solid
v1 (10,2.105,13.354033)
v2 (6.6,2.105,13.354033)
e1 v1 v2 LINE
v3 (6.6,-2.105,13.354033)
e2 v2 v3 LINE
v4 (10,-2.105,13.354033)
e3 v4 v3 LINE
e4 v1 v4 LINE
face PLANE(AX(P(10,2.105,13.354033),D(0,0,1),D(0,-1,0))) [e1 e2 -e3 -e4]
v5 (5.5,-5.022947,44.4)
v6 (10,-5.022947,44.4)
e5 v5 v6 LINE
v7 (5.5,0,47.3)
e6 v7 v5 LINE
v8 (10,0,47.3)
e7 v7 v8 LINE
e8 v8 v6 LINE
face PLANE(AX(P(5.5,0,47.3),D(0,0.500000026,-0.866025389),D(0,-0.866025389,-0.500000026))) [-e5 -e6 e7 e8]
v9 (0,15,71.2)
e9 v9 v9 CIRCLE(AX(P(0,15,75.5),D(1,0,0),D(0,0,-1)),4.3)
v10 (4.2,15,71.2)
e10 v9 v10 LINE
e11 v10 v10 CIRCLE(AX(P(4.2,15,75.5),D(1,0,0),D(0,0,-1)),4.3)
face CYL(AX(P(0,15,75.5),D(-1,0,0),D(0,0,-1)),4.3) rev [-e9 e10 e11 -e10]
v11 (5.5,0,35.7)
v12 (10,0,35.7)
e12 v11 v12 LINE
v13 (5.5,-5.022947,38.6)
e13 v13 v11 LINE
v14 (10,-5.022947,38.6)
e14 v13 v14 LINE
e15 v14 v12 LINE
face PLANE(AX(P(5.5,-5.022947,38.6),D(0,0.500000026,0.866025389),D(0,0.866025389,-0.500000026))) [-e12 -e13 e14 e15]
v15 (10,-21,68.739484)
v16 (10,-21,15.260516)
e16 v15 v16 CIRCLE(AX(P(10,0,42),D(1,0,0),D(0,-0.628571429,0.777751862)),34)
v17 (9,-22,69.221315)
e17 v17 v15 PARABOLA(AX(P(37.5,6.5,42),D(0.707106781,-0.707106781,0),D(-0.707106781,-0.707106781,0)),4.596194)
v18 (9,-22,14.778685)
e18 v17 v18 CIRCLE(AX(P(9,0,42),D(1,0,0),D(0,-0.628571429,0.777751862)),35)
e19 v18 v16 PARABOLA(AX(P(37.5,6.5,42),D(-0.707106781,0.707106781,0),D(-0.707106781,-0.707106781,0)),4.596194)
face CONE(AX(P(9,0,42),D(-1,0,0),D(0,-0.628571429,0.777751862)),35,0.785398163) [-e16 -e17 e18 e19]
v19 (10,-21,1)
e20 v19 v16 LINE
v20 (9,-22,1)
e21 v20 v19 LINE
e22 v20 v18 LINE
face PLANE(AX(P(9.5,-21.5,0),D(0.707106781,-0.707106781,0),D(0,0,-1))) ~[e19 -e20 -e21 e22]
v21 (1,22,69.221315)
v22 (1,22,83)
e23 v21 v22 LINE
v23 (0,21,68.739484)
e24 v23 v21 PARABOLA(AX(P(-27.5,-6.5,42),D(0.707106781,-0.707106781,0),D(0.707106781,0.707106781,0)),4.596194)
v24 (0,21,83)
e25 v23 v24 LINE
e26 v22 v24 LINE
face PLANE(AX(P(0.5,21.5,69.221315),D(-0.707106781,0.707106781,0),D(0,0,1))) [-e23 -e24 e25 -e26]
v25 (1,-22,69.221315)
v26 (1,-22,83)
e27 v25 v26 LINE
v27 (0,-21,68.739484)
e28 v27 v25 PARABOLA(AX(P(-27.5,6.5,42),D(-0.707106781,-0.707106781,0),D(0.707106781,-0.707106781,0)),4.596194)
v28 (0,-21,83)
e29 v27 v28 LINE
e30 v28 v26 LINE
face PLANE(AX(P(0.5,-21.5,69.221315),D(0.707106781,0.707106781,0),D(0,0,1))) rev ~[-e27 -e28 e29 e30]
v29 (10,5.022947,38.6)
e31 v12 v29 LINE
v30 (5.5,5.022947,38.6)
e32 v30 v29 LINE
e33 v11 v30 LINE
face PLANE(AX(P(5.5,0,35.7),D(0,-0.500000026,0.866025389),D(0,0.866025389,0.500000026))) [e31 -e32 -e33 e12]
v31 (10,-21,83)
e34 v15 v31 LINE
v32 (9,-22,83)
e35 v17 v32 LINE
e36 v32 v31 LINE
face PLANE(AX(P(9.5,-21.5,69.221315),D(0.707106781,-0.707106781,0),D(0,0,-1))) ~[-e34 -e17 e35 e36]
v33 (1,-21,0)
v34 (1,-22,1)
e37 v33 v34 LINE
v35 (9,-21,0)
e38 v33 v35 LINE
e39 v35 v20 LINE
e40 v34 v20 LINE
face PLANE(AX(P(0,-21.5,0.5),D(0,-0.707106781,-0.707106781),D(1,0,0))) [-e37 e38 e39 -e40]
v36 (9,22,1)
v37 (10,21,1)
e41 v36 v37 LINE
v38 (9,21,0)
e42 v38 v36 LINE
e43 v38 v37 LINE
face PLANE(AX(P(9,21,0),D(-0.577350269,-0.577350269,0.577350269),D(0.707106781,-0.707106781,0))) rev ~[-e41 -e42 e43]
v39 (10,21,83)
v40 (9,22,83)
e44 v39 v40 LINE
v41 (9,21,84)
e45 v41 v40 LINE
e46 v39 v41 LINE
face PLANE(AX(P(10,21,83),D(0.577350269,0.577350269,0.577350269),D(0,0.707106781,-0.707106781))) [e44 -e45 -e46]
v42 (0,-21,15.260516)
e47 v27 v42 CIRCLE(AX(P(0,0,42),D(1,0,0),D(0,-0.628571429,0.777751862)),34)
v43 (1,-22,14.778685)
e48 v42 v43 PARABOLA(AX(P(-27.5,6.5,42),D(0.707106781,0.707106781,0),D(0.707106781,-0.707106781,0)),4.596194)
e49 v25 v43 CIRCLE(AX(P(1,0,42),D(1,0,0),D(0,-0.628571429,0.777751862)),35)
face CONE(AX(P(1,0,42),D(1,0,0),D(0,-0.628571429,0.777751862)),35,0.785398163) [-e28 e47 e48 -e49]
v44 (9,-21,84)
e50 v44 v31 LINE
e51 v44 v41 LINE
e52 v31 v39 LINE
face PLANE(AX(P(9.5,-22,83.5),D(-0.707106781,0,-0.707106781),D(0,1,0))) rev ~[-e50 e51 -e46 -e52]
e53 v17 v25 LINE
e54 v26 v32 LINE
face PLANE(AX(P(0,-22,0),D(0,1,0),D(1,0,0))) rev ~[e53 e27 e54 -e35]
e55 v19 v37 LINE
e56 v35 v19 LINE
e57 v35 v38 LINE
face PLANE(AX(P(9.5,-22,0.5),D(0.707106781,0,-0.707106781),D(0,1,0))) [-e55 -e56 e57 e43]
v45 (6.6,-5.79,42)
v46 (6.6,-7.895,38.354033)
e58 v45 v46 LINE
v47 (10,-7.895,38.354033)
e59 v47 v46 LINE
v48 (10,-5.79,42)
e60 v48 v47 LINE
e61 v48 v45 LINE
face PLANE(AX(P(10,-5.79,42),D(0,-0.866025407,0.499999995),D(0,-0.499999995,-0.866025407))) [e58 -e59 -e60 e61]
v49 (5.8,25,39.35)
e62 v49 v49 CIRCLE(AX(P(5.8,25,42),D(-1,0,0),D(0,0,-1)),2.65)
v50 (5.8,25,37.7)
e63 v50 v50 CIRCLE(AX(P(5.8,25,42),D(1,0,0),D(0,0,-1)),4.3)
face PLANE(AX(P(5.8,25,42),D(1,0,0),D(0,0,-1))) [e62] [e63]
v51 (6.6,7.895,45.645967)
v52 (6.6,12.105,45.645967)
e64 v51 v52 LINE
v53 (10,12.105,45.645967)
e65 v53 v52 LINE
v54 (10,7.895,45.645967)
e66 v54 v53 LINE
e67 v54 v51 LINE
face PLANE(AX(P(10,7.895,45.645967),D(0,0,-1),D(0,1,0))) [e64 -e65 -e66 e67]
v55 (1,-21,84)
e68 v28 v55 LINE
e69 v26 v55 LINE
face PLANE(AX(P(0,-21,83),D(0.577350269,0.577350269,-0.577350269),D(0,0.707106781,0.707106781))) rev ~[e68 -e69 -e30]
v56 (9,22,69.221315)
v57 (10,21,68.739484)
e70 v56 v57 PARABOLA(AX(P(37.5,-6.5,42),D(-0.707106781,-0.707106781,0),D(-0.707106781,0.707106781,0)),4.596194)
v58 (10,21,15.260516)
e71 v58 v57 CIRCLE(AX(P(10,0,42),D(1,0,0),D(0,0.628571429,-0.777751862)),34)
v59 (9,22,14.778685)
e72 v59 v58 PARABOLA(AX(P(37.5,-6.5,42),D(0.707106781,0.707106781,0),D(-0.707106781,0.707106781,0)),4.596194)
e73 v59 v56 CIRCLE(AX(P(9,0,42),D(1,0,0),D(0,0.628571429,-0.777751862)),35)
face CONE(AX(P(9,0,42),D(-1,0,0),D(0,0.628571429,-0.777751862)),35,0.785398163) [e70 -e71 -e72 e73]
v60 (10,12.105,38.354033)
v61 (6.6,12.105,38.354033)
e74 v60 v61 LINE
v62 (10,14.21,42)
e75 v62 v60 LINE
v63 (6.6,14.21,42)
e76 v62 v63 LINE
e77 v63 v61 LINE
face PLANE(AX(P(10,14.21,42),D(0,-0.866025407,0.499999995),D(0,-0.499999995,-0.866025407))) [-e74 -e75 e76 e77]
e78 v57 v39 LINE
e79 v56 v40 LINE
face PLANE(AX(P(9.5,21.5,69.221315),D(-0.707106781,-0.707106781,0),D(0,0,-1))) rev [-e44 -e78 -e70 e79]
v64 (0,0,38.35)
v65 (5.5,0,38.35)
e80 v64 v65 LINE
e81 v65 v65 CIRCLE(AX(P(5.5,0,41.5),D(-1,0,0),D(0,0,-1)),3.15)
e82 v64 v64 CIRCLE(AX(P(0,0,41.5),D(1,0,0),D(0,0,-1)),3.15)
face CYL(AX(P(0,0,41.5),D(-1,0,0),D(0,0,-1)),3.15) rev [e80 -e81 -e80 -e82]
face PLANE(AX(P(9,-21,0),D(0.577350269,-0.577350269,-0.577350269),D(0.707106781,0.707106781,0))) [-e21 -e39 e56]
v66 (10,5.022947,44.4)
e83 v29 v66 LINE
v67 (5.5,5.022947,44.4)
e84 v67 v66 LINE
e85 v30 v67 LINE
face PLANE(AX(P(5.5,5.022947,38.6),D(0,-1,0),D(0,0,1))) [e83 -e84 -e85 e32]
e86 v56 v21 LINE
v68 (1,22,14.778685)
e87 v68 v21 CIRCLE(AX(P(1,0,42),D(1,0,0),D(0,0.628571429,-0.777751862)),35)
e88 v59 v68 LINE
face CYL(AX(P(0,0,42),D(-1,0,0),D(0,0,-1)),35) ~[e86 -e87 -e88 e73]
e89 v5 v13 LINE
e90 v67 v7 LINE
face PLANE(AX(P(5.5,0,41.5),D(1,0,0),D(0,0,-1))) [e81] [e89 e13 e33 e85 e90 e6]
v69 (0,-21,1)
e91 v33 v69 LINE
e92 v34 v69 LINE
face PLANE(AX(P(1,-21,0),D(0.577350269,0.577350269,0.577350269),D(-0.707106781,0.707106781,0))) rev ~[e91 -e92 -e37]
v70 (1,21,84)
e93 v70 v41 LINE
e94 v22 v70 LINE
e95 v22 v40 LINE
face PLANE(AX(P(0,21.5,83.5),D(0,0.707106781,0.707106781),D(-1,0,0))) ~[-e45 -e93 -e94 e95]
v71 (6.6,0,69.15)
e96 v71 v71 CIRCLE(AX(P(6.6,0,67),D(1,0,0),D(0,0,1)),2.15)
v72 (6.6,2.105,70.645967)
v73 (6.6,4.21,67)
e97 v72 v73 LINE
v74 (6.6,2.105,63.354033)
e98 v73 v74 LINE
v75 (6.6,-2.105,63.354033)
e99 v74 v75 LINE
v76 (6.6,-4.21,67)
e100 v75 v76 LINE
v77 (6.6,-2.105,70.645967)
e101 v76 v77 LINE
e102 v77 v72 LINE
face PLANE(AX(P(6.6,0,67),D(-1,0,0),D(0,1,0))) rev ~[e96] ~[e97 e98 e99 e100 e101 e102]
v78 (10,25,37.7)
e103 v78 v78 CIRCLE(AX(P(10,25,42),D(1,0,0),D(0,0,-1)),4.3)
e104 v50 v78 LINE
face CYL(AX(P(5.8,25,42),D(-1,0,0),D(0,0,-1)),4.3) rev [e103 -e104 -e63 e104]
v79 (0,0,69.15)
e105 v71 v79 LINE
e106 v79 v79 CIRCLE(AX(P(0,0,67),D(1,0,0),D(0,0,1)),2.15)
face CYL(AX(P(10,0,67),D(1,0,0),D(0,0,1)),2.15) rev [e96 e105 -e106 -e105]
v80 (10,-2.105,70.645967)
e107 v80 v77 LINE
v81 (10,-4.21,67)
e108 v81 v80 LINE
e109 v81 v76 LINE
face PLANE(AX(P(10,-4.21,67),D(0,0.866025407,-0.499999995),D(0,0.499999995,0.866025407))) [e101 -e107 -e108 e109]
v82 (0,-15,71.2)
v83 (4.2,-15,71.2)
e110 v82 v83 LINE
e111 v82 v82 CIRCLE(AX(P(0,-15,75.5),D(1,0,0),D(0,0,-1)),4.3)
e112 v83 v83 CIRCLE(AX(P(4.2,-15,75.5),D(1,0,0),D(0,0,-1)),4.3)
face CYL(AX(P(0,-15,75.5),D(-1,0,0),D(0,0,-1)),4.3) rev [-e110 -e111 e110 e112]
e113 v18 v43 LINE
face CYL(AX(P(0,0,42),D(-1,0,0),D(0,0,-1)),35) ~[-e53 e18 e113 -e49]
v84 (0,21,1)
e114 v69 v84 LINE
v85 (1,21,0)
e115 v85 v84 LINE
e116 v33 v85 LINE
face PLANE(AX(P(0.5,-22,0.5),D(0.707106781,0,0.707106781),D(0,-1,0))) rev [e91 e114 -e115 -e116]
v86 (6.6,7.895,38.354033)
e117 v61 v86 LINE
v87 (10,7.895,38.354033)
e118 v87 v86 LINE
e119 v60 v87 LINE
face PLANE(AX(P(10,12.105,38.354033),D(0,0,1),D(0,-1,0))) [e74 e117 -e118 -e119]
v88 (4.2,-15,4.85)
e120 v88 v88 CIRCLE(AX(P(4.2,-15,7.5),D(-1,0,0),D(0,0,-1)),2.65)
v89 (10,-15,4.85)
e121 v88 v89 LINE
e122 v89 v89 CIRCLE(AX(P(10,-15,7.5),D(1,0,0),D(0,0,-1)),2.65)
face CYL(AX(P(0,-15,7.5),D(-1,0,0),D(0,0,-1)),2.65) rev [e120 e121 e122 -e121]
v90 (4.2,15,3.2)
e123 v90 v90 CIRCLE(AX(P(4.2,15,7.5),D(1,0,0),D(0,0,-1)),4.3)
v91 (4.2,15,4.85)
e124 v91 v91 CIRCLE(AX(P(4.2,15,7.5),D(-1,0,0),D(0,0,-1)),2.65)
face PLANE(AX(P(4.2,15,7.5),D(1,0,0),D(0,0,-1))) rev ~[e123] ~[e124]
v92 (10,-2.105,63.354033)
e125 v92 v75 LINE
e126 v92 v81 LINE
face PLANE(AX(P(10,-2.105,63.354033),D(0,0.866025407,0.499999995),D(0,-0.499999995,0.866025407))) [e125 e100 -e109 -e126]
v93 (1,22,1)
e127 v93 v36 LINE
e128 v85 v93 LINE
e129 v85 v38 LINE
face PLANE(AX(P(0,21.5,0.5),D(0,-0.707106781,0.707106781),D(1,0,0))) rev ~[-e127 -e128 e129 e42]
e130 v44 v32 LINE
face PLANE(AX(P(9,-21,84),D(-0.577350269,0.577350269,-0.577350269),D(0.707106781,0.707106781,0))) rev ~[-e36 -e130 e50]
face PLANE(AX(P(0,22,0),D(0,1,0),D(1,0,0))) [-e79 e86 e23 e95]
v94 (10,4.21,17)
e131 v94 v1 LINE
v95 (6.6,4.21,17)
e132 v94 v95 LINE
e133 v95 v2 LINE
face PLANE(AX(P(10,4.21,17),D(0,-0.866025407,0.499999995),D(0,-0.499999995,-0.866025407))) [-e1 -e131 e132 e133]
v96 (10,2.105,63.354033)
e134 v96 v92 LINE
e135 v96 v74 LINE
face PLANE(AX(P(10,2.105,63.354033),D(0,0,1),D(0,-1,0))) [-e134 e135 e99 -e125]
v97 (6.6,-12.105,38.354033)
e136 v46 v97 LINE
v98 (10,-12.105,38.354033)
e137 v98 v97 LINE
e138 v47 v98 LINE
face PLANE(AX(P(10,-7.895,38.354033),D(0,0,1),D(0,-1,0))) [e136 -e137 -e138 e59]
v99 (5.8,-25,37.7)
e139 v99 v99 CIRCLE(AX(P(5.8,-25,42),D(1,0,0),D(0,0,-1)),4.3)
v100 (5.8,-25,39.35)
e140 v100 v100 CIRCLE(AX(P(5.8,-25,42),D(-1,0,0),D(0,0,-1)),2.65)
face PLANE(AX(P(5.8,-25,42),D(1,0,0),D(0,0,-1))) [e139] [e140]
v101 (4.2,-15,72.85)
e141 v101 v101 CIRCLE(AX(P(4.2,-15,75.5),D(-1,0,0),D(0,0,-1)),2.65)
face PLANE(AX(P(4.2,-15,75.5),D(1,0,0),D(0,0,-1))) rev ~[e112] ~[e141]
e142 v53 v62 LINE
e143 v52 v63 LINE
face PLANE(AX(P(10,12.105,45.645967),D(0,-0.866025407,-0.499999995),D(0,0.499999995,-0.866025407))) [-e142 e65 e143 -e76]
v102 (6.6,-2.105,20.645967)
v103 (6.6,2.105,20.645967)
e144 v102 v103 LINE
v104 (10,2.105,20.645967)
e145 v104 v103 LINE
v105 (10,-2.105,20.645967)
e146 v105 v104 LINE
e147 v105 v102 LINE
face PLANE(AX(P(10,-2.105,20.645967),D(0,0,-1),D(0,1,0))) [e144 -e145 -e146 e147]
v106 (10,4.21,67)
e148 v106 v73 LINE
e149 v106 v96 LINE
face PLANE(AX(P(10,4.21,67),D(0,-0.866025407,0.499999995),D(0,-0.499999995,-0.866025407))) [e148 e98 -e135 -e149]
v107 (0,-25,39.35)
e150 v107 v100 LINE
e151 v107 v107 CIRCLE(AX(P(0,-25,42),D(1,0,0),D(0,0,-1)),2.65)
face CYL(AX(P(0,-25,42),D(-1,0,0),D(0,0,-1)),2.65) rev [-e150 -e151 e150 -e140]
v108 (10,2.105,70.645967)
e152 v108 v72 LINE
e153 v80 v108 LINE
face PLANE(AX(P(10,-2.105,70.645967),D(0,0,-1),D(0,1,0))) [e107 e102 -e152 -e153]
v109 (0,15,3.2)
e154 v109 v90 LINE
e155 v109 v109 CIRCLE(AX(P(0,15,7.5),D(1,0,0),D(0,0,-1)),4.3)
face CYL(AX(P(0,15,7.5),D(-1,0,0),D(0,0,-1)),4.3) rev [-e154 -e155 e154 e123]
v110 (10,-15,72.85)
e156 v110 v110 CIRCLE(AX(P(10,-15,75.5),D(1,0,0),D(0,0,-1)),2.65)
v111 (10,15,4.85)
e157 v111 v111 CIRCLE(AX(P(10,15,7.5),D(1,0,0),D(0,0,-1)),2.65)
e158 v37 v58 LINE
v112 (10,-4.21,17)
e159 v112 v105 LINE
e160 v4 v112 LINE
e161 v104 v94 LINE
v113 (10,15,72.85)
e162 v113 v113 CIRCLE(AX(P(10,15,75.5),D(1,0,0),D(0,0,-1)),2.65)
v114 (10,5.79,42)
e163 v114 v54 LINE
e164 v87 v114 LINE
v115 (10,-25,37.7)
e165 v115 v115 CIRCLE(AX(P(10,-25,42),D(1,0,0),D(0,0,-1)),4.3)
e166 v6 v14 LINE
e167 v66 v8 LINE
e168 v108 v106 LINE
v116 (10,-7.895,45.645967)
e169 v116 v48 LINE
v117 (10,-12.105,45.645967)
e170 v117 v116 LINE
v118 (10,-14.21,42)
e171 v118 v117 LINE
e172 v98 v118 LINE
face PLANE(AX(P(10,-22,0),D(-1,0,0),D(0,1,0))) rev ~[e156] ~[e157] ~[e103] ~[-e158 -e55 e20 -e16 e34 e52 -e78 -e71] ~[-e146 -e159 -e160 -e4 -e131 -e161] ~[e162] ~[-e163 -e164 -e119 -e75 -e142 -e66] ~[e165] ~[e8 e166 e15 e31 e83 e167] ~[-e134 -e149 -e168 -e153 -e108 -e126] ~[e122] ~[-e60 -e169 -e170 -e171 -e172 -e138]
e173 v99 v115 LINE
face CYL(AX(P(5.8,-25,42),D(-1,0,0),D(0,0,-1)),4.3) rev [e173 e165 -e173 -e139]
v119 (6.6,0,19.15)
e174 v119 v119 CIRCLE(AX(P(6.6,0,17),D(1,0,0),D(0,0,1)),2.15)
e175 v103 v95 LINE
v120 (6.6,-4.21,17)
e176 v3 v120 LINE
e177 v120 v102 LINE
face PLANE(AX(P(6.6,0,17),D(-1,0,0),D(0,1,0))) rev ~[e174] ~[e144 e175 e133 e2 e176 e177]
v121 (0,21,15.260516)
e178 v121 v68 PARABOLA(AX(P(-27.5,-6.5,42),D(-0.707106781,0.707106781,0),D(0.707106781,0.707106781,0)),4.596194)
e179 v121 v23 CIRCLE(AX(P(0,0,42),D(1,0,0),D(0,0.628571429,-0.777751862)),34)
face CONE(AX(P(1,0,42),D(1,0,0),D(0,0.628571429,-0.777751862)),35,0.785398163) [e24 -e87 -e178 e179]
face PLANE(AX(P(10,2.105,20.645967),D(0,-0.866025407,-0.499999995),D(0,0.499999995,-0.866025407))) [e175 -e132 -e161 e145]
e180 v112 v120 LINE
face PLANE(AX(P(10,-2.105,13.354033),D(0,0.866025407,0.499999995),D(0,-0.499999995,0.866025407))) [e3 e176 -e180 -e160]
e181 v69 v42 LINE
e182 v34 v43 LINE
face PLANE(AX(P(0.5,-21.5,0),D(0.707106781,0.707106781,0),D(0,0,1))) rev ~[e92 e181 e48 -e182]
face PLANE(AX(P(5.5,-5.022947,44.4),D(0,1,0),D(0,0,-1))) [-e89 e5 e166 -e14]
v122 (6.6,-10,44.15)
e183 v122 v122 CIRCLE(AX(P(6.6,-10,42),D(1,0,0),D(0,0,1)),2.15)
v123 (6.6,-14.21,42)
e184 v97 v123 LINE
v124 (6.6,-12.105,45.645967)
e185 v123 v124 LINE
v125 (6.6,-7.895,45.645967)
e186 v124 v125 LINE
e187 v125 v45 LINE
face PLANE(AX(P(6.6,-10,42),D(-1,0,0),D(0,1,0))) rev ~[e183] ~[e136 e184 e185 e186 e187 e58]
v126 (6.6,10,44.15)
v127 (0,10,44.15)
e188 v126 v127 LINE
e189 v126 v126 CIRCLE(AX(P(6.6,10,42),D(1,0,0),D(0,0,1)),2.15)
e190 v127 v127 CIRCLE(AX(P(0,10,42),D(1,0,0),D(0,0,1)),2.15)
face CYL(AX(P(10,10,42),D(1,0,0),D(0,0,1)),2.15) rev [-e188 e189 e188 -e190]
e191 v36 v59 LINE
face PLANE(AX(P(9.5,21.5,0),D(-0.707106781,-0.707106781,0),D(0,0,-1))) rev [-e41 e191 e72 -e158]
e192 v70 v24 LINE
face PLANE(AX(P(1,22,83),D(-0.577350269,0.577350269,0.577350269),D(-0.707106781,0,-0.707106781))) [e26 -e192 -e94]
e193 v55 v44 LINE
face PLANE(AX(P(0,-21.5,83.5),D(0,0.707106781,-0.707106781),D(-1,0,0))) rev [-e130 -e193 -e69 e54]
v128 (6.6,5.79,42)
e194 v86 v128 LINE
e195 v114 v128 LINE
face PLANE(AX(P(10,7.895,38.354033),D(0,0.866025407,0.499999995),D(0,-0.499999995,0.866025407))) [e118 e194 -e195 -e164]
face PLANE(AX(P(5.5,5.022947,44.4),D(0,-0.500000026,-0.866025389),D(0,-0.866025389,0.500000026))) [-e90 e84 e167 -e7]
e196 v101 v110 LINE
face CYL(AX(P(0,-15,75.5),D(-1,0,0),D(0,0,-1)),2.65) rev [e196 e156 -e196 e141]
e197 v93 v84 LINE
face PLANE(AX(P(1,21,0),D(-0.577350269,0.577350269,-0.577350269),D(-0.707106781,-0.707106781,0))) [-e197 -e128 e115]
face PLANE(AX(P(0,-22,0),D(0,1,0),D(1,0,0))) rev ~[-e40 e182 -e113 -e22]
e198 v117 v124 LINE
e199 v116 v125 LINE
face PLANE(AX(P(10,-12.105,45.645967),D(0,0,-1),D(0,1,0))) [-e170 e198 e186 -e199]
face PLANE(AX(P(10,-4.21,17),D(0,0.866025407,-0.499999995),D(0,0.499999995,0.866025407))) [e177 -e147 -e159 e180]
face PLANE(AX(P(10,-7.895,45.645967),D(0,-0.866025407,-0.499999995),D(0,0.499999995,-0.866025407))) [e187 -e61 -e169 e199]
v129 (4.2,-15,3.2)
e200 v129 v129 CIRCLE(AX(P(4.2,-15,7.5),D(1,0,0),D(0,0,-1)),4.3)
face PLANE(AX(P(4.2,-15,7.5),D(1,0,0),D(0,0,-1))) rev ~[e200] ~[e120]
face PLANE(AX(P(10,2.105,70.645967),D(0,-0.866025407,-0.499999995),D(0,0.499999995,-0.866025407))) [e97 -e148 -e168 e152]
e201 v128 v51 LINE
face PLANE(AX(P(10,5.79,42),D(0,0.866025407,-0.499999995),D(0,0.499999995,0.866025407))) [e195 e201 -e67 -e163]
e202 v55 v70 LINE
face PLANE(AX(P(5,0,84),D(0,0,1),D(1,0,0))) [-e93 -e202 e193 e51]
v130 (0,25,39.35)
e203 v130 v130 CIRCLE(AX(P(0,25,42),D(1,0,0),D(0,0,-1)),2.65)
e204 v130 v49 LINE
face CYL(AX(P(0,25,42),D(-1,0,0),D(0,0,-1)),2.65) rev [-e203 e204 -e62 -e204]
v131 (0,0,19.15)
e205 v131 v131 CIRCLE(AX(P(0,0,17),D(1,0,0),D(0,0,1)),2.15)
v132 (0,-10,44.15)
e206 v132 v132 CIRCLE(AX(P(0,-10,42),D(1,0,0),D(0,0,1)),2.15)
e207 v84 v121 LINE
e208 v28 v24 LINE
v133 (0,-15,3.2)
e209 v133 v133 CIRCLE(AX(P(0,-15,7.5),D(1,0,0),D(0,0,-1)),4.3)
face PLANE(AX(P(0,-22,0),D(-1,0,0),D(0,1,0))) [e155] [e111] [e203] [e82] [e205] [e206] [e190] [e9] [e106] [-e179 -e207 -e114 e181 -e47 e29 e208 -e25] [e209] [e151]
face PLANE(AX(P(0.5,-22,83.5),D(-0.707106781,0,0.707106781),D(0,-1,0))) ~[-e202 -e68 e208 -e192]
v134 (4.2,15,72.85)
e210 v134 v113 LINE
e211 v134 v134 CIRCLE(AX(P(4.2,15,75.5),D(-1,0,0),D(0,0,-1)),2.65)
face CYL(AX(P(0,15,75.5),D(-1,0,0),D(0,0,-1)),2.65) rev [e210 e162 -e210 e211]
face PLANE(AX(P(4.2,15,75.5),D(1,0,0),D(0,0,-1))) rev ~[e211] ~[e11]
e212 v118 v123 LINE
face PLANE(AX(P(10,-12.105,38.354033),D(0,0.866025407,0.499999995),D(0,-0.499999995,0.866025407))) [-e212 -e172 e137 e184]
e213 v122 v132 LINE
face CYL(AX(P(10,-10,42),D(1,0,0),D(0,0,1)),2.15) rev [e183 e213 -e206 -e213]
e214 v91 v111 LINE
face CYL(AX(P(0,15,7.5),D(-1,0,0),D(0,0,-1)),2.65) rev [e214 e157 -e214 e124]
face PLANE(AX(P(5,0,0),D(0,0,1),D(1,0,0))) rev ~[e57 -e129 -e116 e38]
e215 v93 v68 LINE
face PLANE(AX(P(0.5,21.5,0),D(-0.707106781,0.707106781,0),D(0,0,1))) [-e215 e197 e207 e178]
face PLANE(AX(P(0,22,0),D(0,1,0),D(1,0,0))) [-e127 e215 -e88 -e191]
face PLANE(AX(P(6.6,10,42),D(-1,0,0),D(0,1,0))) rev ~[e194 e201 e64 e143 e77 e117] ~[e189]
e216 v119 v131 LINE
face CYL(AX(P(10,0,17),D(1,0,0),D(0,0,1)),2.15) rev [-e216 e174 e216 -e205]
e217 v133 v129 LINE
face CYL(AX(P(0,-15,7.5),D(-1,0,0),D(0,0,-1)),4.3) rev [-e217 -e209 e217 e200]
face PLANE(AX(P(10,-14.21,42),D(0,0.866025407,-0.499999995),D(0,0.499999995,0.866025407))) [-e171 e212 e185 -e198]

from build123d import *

# Parameters (mm, degrees)
CYLINDER014005932_R                                                    = 2.65
CYLINDER014005932_DEPTH                                                = 10
CYLINDER014005933_R                                                    = 2.65
CYLINDER014005933_DEPTH                                                = 10
CYLINDER014005934_R                                                    = 2.65
CYLINDER014005934_DEPTH                                                = 10
CYLINDER014005935_R                                                    = 4.3
CYLINDER014005935_DEPTH                                                = 4.2
CYLINDER014005936_R                                                    = 4.3
CYLINDER014005936_DEPTH                                                = 4.2
CYLINDER014005937_R                                                    = 4.3
CYLINDER014005937_DEPTH                                                = 4.2
CYLINDER014005938_R                                                    = 4.3
CYLINDER014005938_DEPTH                                                = 4.2
CYLINDER014005939_R                                                    = 2.65
CYLINDER014005939_DEPTH                                                = 10
CYLINDER014005940_R                                                    = 2.65
CYLINDER014005940_DEPTH                                                = 10
CYLINDER014005941_R                                                    = 4.3
CYLINDER014005941_DEPTH                                                = 4.2
CYLINDER014005942_R                                                    = 4.3
CYLINDER014005942_DEPTH                                                = 4.2
CYLINDER014005943_R                                                    = 3.15
CYLINDER014005943_DEPTH                                                = 10
PRISM010_DEPTH                                                         = 4.5
PRISM018_DEPTH                                                         = 3.4
CYLINDER014005962027_R                                                 = 2.15
CYLINDER014005962027_DEPTH                                             = 16
FUSION001089102007007003008034028016007006009018009018_PLACEMENT_ANGLE = 90
CYLINDER014005931_R                                                    = 2.65
CYLINDER014005931_DEPTH                                                = 10
BOX021002_W                                                            = 10
BOX021002_H                                                            = 44
BOX021002_DEPTH                                                        = 84
CYLINDER014005928_R                                                    = 35
CYLINDER014005928_DEPTH                                                = 10
CUT009003003009003003003007003002_PLACEMENT_ANGLE                      = 90
CHAMFER017_SIZE                                                        = 1
CHAMFER017_PLACEMENT_ANGLE                                             = 90


with BuildPart() as v_lec842:
    # Cylinder014005932 → Cylinder014005932 (new body)
    with BuildSketch(Plane(origin=(0, 15, 7.5), x_dir=(0, 0, -1), z_dir=(1, 0, 0))):
        Circle(CYLINDER014005932_R)
    extrude(amount=CYLINDER014005932_DEPTH)


with BuildPart() as v_lec843:
    # Cylinder014005933 → Cylinder014005933 (new body)
    with BuildSketch(Plane(origin=(0, -15, 75.5), x_dir=(0, 0, -1), z_dir=(1, 0, 0))):
        Circle(CYLINDER014005933_R)
    extrude(amount=CYLINDER014005933_DEPTH)


with BuildPart() as v_lec844:
    # Cylinder014005934 → Cylinder014005934 (new body)
    with BuildSketch(Plane(origin=(0, 15, 75.5), x_dir=(0, 0, -1), z_dir=(1, 0, 0))):
        Circle(CYLINDER014005934_R)
    extrude(amount=CYLINDER014005934_DEPTH)


with BuildPart() as v_lec845:
    # Cylinder014005935 → Cylinder014005935 (new body)
    with BuildSketch(Plane(origin=(0, -15, 7.5), x_dir=(0, 0, -1), z_dir=(1, 0, 0))):
        Circle(CYLINDER014005935_R)
    extrude(amount=CYLINDER014005935_DEPTH)


with BuildPart() as v_lec846:
    # Cylinder014005936 → Cylinder014005936 (new body)
    with BuildSketch(Plane(origin=(0, 15, 7.5), x_dir=(0, 0, -1), z_dir=(1, 0, 0))):
        Circle(CYLINDER014005936_R)
    extrude(amount=CYLINDER014005936_DEPTH)


with BuildPart() as v_lec847:
    # Cylinder014005937 → Cylinder014005937 (new body)
    with BuildSketch(Plane(origin=(0, -15, 75.5), x_dir=(0, 0, -1), z_dir=(1, 0, 0))):
        Circle(CYLINDER014005937_R)
    extrude(amount=CYLINDER014005937_DEPTH)


with BuildPart() as v_lec848:
    # Cylinder014005938 → Cylinder014005938 (new body)
    with BuildSketch(Plane(origin=(0, 15, 75.5), x_dir=(0, 0, -1), z_dir=(1, 0, 0))):
        Circle(CYLINDER014005938_R)
    extrude(amount=CYLINDER014005938_DEPTH)


with BuildPart() as v_lec849:
    # Cylinder014005939 → Cylinder014005939 (new body)
    with BuildSketch(Plane(origin=(0, -25, 42), x_dir=(0, 0, -1), z_dir=(1, 0, 0))):
        Circle(CYLINDER014005939_R)
    extrude(amount=CYLINDER014005939_DEPTH)


with BuildPart() as v_lec850:
    # Cylinder014005940 → Cylinder014005940 (new body)
    with BuildSketch(Plane(origin=(0, 25, 42), x_dir=(0, 0, -1), z_dir=(1, 0, 0))):
        Circle(CYLINDER014005940_R)
    extrude(amount=CYLINDER014005940_DEPTH)


with BuildPart() as v_lec851:
    # Cylinder014005941 → Cylinder014005941 (new body)
    with BuildSketch(Plane(origin=(5.8, -25, 42), x_dir=(0, 0, -1), z_dir=(1, 0, 0))):
        Circle(CYLINDER014005941_R)
    extrude(amount=CYLINDER014005941_DEPTH)


with BuildPart() as v_lec852:
    # Cylinder014005942 → Cylinder014005942 (new body)
    with BuildSketch(Plane(origin=(5.8, 25, 42), x_dir=(0, 0, -1), z_dir=(1, 0, 0))):
        Circle(CYLINDER014005942_R)
    extrude(amount=CYLINDER014005942_DEPTH)


with BuildPart() as v_lec853:
    # Cylinder014005943 → Cylinder014005943 (new body)
    with BuildSketch(Plane(origin=(0, 0, 0), x_dir=(0, 0, -1), z_dir=(1, 0, 0))):
        Circle(CYLINDER014005943_R)
    extrude(amount=CYLINDER014005943_DEPTH)


with BuildPart() as fusion001089102007007003008034028016004:
    # Prism010 → Prism010 (new body)
    with BuildSketch(Plane(origin=(5.5, 0, 0), x_dir=(0, 0, -1), z_dir=(1, 0, 0))):
        Polygon((5.8, 0), (2.9, 5.022947), (-2.9, 5.022947), (-5.8, 0), (-2.9, -5.022947), (2.9, -5.022947), align=None)
    extrude(amount=PRISM010_DEPTH)

    # Fusion001089102007007003008034028016004: union Válec853
    add(v_lec853.part)


with BuildPart() as fusion001089102007007003008034028016004_1:
    # Fusion001089102007007003008034028016004 placement: moved
    add(fusion001089102007007003008034028016004.part.moved(Location((0, 0, 41.5))))


with BuildPart() as m4x010:
    # prism018 → prism018 (new body)
    with BuildSketch(Plane(origin=(0, 0, 0), x_dir=(0, 1, 0), z_dir=(0, 0, 1))):
        Polygon((4.21, 0), (2.105, 3.645967), (-2.105, 3.645967), (-4.21, 0), (-2.105, -3.645967), (2.105, -3.645967), align=None)
    extrude(amount=PRISM018_DEPTH)


with BuildPart() as m4nut042:
    # Cylinder014005962027 → Cylinder014005962027 (new body)
    with BuildSketch(Plane.XY):
        Circle(CYLINDER014005962027_R)
    extrude(amount=CYLINDER014005962027_DEPTH)

    # Fusion001089102007007003008034028016007006009018009018: union M4X010
    add(m4x010.part)


with BuildPart() as m4nut042_1:
    # Fusion001089102007007003008034028016007006009018009018 placement: moved
    add(m4nut042.part.moved(Location((10, 0, 42))).rotate(Axis((10, 0, 42), (0, -1, 0)), FUSION001089102007007003008034028016007006009018009018_PLACEMENT_ANGLE))


with BuildPart() as m4nut043:
    # Fusion001089102007007003008034028016007006009018009019 base: copy of M4nut042
    add(m4nut042_1.part)


with BuildPart() as m4nut043_1:
    # Fusion001089102007007003008034028016007006009018009019 placement: moved
    add(m4nut043.part.moved(Location((0, 10, 0))))


with BuildPart() as m4nut044:
    # Fusion001089102007007003008034028016007006009018009020 base: copy of M4nut042
    add(m4nut042_1.part)


with BuildPart() as m4nut044_1:
    # Fusion001089102007007003008034028016007006009018009020 placement: moved
    add(m4nut044.part.moved(Location((0, -10, 0))))


with BuildPart() as m4nut046:
    # Fusion001089102007007003008034028016007006009018009022 base: copy of M4nut042
    add(m4nut042_1.part)


with BuildPart() as m4nut046_1:
    # Fusion001089102007007003008034028016007006009018009022 placement: moved
    add(m4nut046.part.moved(Location((0, 0, -25))))


with BuildPart() as m4nut045:
    # Fusion001089102007007003008034028016007006009018009021 base: copy of M4nut042
    add(m4nut042_1.part)


with BuildPart() as m4nut045_1:
    # Fusion001089102007007003008034028016007006009018009021 placement: moved
    add(m4nut045.part.moved(Location((0, 0, 25))))


with BuildPart() as fusion001089102007007003008034028016003:
    # Cylinder014005931 → Cylinder014005931 (new body)
    with BuildSketch(Plane(origin=(0, -15, 7.5), x_dir=(0, 0, -1), z_dir=(1, 0, 0))):
        Circle(CYLINDER014005931_R)
    extrude(amount=CYLINDER014005931_DEPTH)

    # Fusion001089102007007003008034028016003: union Válec842, Válec843, Válec844, Válec845, Válec846, Válec847, Válec848, Válec849, Válec850, Válec851, Válec852, Fusion001089102007007003008034028016004, M4nut043, M4nut044, M4nut046, M4nut045
    add(v_lec842.part)
    add(v_lec843.part)
    add(v_lec844.part)
    add(v_lec845.part)
    add(v_lec846.part)
    add(v_lec847.part)
    add(v_lec848.part)
    add(v_lec849.part)
    add(v_lec850.part)
    add(v_lec851.part)
    add(v_lec852.part)
    add(fusion001089102007007003008034028016004_1.part)
    add(m4nut043_1.part)
    add(m4nut044_1.part)
    add(m4nut046_1.part)
    add(m4nut045_1.part)


with BuildPart() as krychle024:
    # Box021002 → Box021002 (new body)
    with BuildSketch(Plane(origin=(0, -22, 0), x_dir=(1, 0, 0), z_dir=(0, 0, 1))):
        with Locations((5, 22)):
            Rectangle(BOX021002_W, BOX021002_H)
    extrude(amount=BOX021002_DEPTH)


with BuildPart() as listade:
    # Cylinder014005928 → Cylinder014005928 (new body)
    with BuildSketch(Plane(origin=(0, 0, 42), x_dir=(0, 0, -1), z_dir=(1, 0, 0))):
        Circle(CYLINDER014005928_R)
    extrude(amount=CYLINDER014005928_DEPTH)

    # Fusion001089102007007003008034028016002: union Krychle024
    add(krychle024.part)

    # Cut009003003009003003003007003002: cut Fusion001089102007007003008034028016003
    add(fusion001089102007007003008034028016003.part, mode=Mode.SUBTRACT)


with BuildPart() as listade_1:
    # Cut009003003009003003003007003002 placement: moved
    add(listade.part.rotate(Axis((0, 0, 0), (1, 0, 0)), CUT009003003009003003003007003002_PLACEMENT_ANGLE))

    # Chamfer017
    chamfer017_edges = [listade_1.edges().sort_by_distance(p)[0] for p in [
        (0, -42, -35),
        (10, -42, -35),
        (10, -76.610658, -22),
        (5, -84, -22),
        (0, -76.610658, -22),
        (0, -84, 0),
        (5, -84, 22),
        (10, -84, 0),
        (10, -76.610658, 22),
        (0, -76.610658, 22),
        (10, -42, 35),
        (0, -42, 35),
        (10, -7.389342, -22),
        (0, -7.389342, -22),
        (5, 0, -22),
        (10, -7.389342, 22),
        (0, -7.389342, 22),
        (5, 0, 22),
        (0, 0, 0),
        (10, 0, 0),
    ]]
    chamfer(chamfer017_edges, length=CHAMFER017_SIZE)


with BuildPart() as listade_2:
    # Chamfer017 placement: moved
    add(listade_1.part.rotate(Axis((0, 0, 0), (-1, 0, 0)), CHAMFER017_PLACEMENT_ANGLE))


solid = listade_2.part
